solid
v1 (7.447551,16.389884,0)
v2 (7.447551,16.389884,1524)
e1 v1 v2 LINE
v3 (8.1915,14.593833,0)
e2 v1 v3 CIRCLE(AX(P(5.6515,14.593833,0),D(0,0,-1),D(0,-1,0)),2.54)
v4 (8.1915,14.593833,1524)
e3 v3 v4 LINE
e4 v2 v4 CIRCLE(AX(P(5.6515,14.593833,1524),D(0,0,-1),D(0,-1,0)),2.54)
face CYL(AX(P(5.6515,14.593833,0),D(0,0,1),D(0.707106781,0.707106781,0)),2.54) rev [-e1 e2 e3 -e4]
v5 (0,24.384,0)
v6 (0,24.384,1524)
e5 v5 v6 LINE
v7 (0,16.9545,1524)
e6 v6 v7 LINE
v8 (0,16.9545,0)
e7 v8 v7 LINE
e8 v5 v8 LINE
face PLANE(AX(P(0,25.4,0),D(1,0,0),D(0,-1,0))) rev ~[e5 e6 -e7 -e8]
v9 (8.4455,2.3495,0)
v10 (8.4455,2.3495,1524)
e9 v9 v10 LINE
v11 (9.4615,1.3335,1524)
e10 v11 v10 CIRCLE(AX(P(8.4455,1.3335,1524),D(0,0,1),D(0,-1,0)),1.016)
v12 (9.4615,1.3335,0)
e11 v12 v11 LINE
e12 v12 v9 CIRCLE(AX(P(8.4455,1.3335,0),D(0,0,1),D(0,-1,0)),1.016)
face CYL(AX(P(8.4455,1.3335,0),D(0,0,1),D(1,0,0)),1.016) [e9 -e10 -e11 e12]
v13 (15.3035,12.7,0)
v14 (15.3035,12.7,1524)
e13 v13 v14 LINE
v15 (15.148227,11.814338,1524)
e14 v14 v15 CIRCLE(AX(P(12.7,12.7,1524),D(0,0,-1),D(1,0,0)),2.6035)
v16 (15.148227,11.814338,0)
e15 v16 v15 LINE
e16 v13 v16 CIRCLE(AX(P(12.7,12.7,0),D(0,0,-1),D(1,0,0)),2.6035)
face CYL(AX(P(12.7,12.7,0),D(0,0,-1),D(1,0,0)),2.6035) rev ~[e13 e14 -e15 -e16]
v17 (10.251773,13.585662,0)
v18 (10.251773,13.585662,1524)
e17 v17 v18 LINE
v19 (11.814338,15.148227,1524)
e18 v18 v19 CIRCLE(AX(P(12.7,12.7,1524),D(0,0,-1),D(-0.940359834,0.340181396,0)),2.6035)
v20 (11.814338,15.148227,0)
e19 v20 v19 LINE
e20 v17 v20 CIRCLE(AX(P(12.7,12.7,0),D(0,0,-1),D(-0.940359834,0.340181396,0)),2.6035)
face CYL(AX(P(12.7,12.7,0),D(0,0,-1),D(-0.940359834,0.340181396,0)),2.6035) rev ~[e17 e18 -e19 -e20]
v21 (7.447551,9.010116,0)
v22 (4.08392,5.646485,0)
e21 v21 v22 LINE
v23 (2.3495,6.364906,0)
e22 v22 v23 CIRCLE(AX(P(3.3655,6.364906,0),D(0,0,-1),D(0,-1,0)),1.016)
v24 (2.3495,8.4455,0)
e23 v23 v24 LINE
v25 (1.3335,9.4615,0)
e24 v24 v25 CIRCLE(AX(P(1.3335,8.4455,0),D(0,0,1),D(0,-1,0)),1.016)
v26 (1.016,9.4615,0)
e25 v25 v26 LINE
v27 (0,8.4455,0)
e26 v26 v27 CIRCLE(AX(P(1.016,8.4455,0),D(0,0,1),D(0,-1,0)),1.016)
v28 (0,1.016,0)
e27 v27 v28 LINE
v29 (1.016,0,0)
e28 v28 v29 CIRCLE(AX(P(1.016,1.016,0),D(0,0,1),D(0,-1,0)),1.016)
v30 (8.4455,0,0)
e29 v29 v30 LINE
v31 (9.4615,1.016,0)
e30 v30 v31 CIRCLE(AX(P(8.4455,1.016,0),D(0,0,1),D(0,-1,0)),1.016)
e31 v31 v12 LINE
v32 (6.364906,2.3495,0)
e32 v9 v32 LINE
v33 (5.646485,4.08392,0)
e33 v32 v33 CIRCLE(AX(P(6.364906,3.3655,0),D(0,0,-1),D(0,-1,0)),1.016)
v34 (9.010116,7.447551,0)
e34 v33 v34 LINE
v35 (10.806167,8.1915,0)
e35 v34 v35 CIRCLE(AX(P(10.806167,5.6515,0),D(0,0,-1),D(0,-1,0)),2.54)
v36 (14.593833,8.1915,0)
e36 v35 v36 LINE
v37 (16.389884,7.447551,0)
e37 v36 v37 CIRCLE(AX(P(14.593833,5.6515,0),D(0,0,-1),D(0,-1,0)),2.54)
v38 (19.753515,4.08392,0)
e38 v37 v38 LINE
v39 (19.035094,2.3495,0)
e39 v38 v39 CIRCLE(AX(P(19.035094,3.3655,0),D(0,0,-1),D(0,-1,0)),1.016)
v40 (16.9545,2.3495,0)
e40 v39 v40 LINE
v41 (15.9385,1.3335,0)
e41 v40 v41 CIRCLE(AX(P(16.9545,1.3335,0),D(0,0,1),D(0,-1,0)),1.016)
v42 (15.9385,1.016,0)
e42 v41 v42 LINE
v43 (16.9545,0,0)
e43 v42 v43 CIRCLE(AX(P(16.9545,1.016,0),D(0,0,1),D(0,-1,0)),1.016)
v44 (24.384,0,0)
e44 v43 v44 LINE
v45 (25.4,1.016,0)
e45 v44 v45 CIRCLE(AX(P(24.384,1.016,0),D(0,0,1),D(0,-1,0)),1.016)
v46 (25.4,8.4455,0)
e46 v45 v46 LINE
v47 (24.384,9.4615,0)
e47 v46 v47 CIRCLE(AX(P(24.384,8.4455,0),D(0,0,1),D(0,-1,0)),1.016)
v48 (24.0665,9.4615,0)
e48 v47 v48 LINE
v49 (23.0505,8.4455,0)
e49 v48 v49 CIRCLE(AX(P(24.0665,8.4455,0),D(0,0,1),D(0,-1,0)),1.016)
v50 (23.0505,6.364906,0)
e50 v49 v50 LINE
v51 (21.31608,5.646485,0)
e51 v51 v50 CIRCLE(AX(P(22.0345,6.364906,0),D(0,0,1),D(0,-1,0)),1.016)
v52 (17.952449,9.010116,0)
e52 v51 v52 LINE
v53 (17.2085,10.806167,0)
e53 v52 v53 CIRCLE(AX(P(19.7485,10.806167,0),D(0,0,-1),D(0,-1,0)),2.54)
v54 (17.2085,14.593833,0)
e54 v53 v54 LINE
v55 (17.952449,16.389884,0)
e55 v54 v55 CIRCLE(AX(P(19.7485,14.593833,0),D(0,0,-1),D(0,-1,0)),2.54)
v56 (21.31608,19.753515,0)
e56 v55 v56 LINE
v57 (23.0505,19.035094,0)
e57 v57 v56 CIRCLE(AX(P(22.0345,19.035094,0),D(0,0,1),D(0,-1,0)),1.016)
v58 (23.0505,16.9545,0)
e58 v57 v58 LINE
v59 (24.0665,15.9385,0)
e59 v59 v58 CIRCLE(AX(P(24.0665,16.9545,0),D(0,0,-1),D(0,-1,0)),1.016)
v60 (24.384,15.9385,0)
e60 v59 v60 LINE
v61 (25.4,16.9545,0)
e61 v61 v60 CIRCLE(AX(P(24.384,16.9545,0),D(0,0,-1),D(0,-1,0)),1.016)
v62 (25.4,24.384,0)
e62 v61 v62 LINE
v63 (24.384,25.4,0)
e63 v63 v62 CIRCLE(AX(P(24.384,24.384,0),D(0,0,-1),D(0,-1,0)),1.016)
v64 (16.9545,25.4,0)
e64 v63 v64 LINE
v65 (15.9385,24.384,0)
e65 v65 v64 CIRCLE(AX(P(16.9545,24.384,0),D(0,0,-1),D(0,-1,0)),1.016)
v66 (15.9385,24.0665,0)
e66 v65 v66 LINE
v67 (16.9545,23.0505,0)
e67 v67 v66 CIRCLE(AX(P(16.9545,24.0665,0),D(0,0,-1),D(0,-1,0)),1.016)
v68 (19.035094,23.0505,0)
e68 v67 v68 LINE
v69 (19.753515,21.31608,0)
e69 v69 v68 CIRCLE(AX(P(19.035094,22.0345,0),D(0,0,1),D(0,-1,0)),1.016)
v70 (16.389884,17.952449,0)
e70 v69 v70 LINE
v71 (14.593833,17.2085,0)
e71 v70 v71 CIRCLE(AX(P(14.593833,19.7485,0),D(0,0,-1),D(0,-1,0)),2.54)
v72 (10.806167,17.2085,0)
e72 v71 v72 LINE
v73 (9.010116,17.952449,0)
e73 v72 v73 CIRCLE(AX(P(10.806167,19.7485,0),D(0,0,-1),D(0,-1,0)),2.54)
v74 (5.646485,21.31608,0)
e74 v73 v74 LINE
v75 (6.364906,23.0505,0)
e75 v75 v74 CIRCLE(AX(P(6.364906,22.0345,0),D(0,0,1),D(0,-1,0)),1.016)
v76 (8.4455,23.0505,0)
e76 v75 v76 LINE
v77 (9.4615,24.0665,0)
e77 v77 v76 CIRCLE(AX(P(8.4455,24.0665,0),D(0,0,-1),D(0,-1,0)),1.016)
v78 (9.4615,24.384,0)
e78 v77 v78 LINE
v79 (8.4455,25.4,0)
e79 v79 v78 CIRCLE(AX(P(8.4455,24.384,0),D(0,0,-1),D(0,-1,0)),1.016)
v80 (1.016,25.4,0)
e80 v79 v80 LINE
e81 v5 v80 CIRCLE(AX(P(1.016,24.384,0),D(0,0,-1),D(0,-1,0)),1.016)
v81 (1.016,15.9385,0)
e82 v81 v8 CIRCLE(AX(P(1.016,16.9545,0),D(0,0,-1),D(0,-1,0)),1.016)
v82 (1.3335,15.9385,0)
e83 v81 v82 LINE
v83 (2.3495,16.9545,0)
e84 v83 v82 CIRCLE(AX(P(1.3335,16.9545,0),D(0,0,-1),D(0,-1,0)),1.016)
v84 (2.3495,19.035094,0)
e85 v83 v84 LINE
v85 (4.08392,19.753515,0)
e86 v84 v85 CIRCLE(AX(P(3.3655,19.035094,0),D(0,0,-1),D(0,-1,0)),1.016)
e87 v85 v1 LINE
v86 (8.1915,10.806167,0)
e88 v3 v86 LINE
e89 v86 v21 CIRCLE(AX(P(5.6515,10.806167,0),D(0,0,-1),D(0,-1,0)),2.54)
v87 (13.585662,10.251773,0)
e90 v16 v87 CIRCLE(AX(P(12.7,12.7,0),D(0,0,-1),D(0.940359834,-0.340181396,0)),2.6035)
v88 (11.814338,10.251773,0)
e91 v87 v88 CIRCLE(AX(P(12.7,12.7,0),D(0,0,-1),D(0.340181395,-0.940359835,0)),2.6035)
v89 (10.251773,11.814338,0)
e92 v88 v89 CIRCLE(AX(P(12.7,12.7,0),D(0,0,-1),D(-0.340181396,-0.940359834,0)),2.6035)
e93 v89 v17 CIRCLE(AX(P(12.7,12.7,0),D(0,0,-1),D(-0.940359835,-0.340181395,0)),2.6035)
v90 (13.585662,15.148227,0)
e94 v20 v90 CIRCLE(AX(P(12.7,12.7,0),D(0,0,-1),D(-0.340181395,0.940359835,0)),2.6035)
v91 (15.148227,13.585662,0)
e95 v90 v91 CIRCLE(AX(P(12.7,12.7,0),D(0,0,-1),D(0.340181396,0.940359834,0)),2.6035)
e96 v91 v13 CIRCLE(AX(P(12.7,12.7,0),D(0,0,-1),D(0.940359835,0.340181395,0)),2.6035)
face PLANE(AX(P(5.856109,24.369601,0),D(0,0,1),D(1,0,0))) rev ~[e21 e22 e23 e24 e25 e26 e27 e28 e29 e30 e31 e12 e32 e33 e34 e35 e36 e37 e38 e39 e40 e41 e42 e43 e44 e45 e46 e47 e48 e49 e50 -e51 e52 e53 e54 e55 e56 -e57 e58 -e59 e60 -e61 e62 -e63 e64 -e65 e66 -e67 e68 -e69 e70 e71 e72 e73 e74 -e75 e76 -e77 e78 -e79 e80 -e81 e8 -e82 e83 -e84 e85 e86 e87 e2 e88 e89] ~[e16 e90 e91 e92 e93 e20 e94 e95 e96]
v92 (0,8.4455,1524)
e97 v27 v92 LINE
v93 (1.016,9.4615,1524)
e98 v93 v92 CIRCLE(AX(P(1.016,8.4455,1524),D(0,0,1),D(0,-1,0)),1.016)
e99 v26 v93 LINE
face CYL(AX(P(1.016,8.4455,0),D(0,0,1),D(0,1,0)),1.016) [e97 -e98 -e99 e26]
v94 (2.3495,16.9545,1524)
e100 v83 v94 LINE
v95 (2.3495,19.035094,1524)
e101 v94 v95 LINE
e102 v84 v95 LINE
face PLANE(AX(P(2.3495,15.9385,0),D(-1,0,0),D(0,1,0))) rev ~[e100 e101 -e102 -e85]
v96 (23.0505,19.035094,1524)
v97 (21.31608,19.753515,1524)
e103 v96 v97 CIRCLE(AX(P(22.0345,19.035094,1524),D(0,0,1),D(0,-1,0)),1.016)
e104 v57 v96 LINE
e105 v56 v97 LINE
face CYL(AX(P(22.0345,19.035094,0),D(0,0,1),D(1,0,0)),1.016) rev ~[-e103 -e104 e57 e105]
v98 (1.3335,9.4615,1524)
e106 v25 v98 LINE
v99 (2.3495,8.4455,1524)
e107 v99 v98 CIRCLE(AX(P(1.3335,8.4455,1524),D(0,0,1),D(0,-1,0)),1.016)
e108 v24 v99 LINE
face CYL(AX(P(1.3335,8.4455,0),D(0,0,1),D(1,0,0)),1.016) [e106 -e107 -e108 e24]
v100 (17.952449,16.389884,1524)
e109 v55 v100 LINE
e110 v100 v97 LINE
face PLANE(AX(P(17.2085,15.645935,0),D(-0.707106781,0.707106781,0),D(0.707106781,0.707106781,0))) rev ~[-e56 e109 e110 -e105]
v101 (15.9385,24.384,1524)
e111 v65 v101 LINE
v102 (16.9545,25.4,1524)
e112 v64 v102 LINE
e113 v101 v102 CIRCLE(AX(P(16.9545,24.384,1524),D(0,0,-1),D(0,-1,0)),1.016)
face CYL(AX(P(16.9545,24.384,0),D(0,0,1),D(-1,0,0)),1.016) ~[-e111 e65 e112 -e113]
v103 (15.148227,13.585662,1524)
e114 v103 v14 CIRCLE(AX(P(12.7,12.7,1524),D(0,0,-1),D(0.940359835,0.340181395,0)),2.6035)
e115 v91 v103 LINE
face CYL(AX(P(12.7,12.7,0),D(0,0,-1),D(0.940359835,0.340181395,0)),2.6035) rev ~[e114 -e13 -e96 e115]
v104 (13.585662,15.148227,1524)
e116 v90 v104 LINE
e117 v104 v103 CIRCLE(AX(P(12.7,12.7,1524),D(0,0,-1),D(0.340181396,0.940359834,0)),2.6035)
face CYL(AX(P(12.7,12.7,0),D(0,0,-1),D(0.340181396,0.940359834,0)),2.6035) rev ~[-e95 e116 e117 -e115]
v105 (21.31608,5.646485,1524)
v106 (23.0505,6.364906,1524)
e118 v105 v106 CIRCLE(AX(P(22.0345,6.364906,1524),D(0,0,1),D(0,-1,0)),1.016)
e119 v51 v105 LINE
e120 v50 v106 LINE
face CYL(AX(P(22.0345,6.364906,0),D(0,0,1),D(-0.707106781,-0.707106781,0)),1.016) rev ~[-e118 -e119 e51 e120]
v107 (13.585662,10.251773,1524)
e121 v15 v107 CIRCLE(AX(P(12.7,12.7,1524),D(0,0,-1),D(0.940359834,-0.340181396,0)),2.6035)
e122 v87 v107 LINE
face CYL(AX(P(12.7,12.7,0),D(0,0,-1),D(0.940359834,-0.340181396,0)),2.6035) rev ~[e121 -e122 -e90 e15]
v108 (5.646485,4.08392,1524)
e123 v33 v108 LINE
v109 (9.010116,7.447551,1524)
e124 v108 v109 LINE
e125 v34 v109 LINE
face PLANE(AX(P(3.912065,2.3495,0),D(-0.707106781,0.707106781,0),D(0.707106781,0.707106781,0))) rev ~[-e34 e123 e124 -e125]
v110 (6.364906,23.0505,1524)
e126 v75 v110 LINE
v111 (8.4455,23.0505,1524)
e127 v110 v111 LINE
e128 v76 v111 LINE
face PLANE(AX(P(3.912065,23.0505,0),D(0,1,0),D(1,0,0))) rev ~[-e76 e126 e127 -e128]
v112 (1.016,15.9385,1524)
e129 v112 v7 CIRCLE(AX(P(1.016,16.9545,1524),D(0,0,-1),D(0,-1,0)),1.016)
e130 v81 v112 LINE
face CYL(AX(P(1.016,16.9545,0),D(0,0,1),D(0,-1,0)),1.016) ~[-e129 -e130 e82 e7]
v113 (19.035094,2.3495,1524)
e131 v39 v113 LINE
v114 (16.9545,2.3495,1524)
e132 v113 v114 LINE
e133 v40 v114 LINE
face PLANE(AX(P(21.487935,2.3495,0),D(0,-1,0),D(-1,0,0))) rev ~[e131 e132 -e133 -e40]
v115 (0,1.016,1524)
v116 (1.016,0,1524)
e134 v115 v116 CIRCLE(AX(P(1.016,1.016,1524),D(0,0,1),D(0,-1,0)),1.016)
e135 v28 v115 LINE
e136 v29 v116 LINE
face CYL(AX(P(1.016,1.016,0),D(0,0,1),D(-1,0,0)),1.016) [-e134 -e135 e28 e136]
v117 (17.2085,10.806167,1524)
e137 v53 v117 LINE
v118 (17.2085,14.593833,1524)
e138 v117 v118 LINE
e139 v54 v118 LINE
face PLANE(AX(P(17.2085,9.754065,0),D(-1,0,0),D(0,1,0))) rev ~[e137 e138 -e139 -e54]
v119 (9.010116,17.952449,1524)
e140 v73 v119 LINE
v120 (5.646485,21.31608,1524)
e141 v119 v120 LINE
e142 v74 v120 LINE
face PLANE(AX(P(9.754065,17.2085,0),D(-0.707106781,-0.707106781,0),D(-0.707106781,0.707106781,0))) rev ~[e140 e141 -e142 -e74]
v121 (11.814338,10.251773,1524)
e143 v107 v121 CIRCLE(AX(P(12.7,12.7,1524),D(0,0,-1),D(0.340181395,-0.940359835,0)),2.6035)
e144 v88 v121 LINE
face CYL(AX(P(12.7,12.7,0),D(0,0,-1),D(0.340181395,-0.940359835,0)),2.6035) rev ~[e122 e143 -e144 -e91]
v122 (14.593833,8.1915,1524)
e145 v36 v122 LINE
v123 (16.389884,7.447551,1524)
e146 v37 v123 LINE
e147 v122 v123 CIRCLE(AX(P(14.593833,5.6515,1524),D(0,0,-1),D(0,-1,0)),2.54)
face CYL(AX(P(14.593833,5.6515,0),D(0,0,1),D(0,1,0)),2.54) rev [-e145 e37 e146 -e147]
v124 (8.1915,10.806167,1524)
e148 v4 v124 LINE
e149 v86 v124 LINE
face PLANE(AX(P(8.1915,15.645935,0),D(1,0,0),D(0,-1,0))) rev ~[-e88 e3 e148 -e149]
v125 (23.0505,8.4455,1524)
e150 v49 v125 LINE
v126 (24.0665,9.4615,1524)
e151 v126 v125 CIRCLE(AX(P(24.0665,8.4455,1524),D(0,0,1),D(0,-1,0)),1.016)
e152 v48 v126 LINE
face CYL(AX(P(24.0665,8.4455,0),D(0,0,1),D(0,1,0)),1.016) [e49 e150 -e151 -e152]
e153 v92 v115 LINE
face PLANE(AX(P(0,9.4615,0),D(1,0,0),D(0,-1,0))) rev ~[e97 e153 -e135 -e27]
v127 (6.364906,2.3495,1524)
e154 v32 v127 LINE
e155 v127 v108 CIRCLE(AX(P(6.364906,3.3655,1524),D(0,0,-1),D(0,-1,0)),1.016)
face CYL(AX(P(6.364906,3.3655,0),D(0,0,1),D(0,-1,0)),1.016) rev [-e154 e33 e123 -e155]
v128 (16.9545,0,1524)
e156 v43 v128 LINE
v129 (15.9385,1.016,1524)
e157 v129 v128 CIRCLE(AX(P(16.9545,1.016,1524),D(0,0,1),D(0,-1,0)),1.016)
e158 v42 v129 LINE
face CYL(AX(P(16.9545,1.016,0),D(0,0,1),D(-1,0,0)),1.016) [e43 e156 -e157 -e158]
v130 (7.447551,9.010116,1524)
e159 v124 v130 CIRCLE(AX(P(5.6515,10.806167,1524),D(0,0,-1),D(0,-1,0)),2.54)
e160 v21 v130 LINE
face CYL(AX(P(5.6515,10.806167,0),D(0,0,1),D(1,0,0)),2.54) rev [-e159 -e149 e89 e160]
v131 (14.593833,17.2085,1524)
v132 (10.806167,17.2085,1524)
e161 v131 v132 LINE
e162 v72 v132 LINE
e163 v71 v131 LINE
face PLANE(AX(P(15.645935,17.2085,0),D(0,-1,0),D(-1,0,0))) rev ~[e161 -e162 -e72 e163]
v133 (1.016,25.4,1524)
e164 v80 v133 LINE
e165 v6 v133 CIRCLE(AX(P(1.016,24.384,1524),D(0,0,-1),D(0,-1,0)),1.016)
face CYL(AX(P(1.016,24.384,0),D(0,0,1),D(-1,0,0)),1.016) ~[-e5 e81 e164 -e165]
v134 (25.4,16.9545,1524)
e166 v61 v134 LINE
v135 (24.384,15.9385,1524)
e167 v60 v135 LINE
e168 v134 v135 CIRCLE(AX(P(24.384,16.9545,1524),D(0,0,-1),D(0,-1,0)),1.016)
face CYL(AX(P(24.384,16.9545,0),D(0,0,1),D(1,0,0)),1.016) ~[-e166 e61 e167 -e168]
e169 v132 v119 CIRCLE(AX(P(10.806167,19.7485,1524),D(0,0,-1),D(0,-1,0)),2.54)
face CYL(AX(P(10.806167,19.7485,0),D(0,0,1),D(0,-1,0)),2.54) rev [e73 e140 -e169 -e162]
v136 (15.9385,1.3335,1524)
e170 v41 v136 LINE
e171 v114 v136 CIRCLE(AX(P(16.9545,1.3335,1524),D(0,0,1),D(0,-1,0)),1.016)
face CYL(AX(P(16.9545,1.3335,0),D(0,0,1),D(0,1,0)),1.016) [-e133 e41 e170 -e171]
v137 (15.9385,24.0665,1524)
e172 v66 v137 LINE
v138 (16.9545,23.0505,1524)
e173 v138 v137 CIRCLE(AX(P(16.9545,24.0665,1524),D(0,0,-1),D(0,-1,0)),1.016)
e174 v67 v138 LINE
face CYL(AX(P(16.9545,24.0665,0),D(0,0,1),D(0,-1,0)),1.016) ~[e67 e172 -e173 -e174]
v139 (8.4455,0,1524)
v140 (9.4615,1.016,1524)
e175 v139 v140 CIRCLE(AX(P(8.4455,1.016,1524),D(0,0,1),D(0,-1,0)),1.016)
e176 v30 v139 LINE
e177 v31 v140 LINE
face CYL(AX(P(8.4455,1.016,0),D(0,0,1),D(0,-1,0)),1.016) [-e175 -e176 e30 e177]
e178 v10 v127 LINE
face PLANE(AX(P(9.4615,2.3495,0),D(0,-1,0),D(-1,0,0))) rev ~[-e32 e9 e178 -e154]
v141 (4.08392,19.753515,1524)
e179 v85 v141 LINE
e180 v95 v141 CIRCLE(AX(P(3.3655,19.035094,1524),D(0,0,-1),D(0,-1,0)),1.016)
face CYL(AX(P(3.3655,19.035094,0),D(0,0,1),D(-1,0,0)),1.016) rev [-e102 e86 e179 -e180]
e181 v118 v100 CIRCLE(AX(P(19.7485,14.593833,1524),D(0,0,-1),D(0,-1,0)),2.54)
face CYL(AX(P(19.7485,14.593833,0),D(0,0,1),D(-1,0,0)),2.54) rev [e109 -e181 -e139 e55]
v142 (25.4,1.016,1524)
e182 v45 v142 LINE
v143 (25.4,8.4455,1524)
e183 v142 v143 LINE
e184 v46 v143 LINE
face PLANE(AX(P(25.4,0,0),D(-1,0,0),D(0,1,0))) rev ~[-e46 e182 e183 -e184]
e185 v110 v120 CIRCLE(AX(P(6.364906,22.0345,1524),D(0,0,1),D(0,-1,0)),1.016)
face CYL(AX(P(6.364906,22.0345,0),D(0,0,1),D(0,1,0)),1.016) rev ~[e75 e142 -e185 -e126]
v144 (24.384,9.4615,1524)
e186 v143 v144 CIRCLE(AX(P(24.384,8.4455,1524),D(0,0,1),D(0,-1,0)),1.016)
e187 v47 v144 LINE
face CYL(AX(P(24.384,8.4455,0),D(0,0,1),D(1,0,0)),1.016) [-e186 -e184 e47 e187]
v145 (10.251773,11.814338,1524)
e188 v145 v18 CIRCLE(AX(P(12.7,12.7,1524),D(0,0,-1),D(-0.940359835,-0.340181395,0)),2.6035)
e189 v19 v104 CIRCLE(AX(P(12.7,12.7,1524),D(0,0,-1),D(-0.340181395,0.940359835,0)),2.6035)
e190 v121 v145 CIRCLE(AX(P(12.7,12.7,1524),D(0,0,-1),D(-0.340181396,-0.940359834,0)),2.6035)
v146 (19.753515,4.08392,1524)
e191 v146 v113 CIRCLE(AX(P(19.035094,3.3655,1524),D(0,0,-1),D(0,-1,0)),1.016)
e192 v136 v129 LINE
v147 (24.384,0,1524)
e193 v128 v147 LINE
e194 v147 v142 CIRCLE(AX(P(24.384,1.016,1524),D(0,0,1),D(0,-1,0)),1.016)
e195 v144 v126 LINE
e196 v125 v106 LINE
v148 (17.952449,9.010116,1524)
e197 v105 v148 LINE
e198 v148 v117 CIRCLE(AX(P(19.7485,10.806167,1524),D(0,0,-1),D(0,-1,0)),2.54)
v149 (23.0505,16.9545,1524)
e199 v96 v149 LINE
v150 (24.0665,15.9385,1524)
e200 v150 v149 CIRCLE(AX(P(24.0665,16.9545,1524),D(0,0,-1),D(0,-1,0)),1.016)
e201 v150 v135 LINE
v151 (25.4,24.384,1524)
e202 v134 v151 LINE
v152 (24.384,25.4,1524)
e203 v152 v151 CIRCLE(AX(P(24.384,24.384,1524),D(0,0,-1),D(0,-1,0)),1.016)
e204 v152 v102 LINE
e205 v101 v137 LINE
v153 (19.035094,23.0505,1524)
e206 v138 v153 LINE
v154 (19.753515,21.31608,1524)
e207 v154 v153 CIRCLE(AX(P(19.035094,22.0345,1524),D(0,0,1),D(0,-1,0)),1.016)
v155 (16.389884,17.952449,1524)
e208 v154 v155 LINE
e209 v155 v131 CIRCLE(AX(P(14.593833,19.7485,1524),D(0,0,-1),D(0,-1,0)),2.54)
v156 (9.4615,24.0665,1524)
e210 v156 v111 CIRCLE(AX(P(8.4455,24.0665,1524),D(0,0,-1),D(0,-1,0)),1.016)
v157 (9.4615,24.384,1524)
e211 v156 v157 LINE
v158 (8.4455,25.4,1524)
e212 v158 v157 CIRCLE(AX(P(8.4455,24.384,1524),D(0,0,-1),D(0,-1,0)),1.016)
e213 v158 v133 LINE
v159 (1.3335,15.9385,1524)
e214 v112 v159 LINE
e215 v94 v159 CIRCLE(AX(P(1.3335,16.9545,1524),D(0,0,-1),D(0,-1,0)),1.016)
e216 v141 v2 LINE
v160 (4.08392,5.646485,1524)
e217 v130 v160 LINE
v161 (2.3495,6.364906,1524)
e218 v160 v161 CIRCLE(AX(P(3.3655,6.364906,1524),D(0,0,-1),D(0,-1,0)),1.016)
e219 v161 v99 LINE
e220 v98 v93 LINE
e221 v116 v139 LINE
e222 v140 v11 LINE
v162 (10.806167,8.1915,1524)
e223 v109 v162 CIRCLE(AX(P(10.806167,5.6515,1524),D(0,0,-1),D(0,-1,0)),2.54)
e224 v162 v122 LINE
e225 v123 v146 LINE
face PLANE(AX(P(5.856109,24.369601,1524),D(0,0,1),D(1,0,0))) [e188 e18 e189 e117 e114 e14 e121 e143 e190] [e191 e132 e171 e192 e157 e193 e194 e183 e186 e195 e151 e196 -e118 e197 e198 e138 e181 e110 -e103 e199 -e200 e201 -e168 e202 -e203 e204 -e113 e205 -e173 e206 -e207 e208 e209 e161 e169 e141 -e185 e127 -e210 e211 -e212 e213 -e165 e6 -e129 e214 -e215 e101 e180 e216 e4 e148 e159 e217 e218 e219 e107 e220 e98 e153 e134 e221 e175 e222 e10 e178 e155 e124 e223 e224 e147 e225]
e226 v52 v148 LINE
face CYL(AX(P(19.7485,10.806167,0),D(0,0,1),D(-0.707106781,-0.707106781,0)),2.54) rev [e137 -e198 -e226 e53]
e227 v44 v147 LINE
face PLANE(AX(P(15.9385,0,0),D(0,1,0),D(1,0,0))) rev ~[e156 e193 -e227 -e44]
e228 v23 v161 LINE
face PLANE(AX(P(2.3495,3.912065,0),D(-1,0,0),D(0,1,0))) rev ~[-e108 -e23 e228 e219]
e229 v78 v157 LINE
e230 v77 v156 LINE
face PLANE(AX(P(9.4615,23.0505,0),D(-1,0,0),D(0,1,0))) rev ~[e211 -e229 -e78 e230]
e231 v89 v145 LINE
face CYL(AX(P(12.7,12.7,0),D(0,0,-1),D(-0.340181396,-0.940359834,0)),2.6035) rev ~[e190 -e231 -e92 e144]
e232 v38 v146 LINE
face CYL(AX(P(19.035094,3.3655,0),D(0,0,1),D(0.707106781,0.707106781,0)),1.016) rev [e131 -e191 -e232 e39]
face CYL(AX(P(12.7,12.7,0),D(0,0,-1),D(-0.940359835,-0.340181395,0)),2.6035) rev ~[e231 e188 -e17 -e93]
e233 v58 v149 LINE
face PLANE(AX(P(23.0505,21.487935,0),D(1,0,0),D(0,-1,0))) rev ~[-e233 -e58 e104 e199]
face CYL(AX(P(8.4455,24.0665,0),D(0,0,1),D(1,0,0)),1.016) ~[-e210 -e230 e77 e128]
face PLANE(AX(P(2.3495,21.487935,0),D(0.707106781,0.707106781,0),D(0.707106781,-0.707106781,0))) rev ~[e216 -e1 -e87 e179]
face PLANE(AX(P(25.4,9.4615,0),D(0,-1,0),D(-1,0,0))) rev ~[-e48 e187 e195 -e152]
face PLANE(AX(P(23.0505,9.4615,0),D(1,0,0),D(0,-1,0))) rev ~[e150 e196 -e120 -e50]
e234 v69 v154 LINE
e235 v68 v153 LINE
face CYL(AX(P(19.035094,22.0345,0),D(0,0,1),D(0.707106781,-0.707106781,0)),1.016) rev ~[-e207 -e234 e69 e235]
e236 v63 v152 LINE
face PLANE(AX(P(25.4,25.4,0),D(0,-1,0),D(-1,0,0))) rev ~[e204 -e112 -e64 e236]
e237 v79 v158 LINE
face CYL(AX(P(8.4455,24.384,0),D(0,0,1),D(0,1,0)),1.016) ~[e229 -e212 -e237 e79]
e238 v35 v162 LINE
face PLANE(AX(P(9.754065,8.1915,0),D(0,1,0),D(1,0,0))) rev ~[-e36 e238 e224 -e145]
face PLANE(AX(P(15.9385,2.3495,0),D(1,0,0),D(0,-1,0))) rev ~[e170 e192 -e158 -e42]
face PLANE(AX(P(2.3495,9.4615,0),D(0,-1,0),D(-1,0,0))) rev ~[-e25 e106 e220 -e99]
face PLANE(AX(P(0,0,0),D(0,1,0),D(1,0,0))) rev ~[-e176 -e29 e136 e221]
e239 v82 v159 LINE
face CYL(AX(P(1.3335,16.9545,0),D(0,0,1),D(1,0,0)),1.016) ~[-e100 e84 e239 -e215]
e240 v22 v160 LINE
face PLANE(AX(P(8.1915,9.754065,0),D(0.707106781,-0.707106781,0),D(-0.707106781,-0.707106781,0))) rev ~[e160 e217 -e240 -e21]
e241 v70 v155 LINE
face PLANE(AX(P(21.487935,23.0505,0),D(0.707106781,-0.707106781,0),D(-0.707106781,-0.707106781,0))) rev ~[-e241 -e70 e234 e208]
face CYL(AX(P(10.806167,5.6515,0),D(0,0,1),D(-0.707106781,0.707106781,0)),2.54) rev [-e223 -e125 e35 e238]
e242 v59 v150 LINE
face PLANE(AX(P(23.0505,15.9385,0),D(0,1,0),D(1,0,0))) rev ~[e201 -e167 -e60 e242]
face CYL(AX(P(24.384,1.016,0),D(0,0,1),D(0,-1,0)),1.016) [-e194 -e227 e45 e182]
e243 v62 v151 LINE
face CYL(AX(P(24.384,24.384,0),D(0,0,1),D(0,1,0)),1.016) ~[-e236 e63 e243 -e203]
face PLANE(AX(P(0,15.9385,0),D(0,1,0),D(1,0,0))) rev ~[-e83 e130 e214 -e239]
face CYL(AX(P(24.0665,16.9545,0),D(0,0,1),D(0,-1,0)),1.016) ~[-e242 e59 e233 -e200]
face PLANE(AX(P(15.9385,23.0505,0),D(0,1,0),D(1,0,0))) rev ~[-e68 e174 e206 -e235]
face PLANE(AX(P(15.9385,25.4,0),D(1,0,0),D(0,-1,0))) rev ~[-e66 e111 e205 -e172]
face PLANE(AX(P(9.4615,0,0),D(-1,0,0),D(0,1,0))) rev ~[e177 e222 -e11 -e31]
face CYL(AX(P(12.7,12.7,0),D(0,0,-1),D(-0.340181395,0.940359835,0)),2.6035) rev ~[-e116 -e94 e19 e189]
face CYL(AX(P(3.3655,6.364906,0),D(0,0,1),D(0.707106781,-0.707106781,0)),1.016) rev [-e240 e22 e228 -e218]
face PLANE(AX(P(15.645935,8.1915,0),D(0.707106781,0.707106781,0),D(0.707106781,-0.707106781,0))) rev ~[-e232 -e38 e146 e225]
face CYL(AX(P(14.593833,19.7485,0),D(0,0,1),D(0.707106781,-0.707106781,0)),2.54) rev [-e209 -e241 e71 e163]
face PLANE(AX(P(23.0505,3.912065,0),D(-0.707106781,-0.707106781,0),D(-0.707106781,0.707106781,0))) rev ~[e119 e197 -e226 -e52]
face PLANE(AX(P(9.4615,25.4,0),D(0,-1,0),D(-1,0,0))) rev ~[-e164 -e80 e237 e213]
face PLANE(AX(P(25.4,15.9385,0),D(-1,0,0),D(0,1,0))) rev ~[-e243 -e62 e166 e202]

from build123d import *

# Parameters (mm, degrees)
BOSS_EXTRUDE1_DEPTH = 1524
FILLET1_R           = 2.54
FILLET2_R           = 1.016
FILLET3_R           = 1.016


with BuildPart() as part:
    # Sketch1 → Boss-Extrude1 (new body)
    with BuildSketch(Plane.XY):
        Polygon((1.562564565, 25.4), (3.912064565, 23.0505), (9.4615, 23.0505), (9.4615, 25.4), align=None)
        with BuildLine():
            Line((11.814337736, 15.148226829), (9.754064565, 17.2085))
            Line((9.754064565, 17.2085), (3.912064565, 23.0505))
            Line((3.912064565, 23.0505), (1.562564565, 25.4))
            Line((1.562564565, 25.4), (0, 25.4))
            Line((0, 25.4), (0, 23.837435435))
            Line((0, 23.837435435), (2.3495, 21.487935435))
            Line((2.3495, 21.487935435), (8.1915, 15.645935435))
            Line((8.1915, 15.645935435), (10.251773171, 13.585662264))
            ThreePointArc((10.251773171, 13.585662264), (10.859047495, 14.540952505), (11.814337736, 15.148226829))
        make_face()
        Polygon((2.3495, 15.9385), (2.3495, 21.487935435), (0, 23.837435435), (0, 15.9385), align=None)
        with BuildLine():
            Line((13.585662264, 15.148226829), (15.645935435, 17.2085))
            Line((15.645935435, 17.2085), (9.754064565, 17.2085))
            Line((9.754064565, 17.2085), (11.814337736, 15.148226829))
            ThreePointArc((11.814337736, 15.148226829), (12.7, 15.3035), (13.585662264, 15.148226829))
        make_face()
        with BuildLine():
            ThreePointArc((10.251773171, 11.814337736), (10.0965, 12.7), (10.251773171, 13.585662264))
            Line((10.251773171, 13.585662264), (8.1915, 15.645935435))
            Line((8.1915, 15.645935435), (8.1915, 9.754064565))
            Line((8.1915, 9.754064565), (10.251773171, 11.814337736))
        make_face()
        with BuildLine():
            ThreePointArc((11.814337736, 10.251773171), (10.859047495, 10.859047495), (10.251773171, 11.814337736))
            Line((10.251773171, 11.814337736), (8.1915, 9.754064565))
            Line((8.1915, 9.754064565), (2.3495, 3.912064565))
            Line((2.3495, 3.912064565), (0, 1.562564565))
            Line((0, 1.562564565), (0, 0))
            Line((0, 0), (1.562564565, 0))
            Line((1.562564565, 0), (3.912064565, 2.3495))
            Line((3.912064565, 2.3495), (9.754064565, 8.1915))
            Line((9.754064565, 8.1915), (11.814337736, 10.251773171))
        make_face()
        with BuildLine():
            ThreePointArc((13.585662264, 10.251773171), (12.7, 10.0965), (11.814337736, 10.251773171))
            Line((11.814337736, 10.251773171), (9.754064565, 8.1915))
            Line((9.754064565, 8.1915), (15.645935435, 8.1915))
            Line((15.645935435, 8.1915), (13.585662264, 10.251773171))
        make_face()
        with BuildLine():
            Line((17.2085, 9.754064565), (15.148226829, 11.814337736))
            ThreePointArc((15.148226829, 11.814337736), (14.540952505, 10.859047495), (13.585662264, 10.251773171))
            Line((13.585662264, 10.251773171), (15.645935435, 8.1915))
            Line((15.645935435, 8.1915), (21.487935435, 2.3495))
            Line((21.487935435, 2.3495), (23.837435435, 0))
            Line((23.837435435, 0), (25.4, 0))
            Line((25.4, 0), (25.4, 1.562564565))
            Line((25.4, 1.562564565), (23.0505, 3.912064565))
            Line((23.0505, 3.912064565), (17.2085, 9.754064565))
        make_face()
        with BuildLine():
            Line((17.2085, 15.645935435), (15.148226829, 13.585662264))
            ThreePointArc((15.148226829, 13.585662264), (15.264387919, 13.149585199), (15.3035, 12.7))
            ThreePointArc((15.3035, 12.7), (15.264387919, 12.250414801), (15.148226829, 11.814337736))
            Line((15.148226829, 11.814337736), (17.2085, 9.754064565))
            Line((17.2085, 9.754064565), (17.2085, 15.645935435))
        make_face()
        with BuildLine():
            Line((23.837435435, 25.4), (21.487935435, 23.0505))
            Line((21.487935435, 23.0505), (15.645935435, 17.2085))
            Line((15.645935435, 17.2085), (13.585662264, 15.148226829))
            ThreePointArc((13.585662264, 15.148226829), (14.540952505, 14.540952505), (15.148226829, 13.585662264))
            Line((15.148226829, 13.585662264), (17.2085, 15.645935435))
            Line((17.2085, 15.645935435), (23.0505, 21.487935435))
            Line((23.0505, 21.487935435), (25.4, 23.837435435))
            Line((25.4, 23.837435435), (25.4, 25.4))
            Line((25.4, 25.4), (23.837435435, 25.4))
        make_face()
        Polygon((15.9385, 23.0505), (21.487935435, 23.0505), (23.837435435, 25.4), (15.9385, 25.4), align=None)
        Polygon((25.4, 15.9385), (25.4, 23.837435435), (23.0505, 21.487935435), (23.0505, 15.9385), align=None)
        Polygon((23.0505, 9.4615), (23.0505, 3.912064565), (25.4, 1.562564565), (25.4, 9.4615), align=None)
        Polygon((23.837435435, 0), (21.487935435, 2.3495), (15.9385, 2.3495), (15.9385, 0), align=None)
        Polygon((9.4615, 2.3495), (3.912064565, 2.3495), (1.562564565, 0), (9.4615, 0), align=None)
        Polygon((0, 1.562564565), (2.3495, 3.912064565), (2.3495, 9.4615), (0, 9.4615), align=None)
    extrude(amount=BOSS_EXTRUDE1_DEPTH)

    # Fillet1
    fillet1_edges = [part.edges().sort_by_distance(p)[0] for p in [
        (15.645935435, 8.1915, 762),
        (9.754064565, 8.1915, 762),
        (8.1915, 9.754064565, 762),
        (8.1915, 15.645935435, 762),
        (9.754064565, 17.2085, 762),
        (15.645935435, 17.2085, 762),
        (17.2085, 15.645935435, 762),
        (17.2085, 9.754064565, 762),
    ]]
    fillet(fillet1_edges, radius=FILLET1_R)

    # Fillet2
    fillet2_edges = [part.edges().sort_by_distance(p)[0] for p in [
        (23.0505, 9.4615, 762),
        (25.4, 9.4615, 762),
        (25.4, 0, 762),
        (15.9385, 0, 762),
        (15.9385, 2.3495, 762),
        (9.4615, 2.3495, 762),
        (9.4615, 0, 762),
        (0, 0, 762),
        (0, 9.4615, 762),
        (2.3495, 9.4615, 762),
        (2.3495, 15.9385, 762),
        (0, 15.9385, 762),
        (0, 25.4, 762),
        (9.4615, 25.4, 762),
        (9.4615, 23.0505, 762),
        (15.9385, 23.0505, 762),
        (15.9385, 25.4, 762),
        (25.4, 25.4, 762),
        (25.4, 15.9385, 762),
        (23.0505, 15.9385, 762),
    ]]
    fillet(fillet2_edges, radius=FILLET2_R)

    # Fillet3
    fillet3_edges = [part.edges().sort_by_distance(p)[0] for p in [
        (23.0505, 3.912064565, 762),
        (21.487935435, 2.3495, 762),
        (3.912064565, 2.3495, 762),
        (2.3495, 3.912064565, 762),
        (2.3495, 21.487935435, 762),
        (3.912064565, 23.0505, 762),
        (21.487935435, 23.0505, 762),
        (23.0505, 21.487935435, 762),
    ]]
    fillet(fillet3_edges, radius=FILLET3_R)


solid = part.part
